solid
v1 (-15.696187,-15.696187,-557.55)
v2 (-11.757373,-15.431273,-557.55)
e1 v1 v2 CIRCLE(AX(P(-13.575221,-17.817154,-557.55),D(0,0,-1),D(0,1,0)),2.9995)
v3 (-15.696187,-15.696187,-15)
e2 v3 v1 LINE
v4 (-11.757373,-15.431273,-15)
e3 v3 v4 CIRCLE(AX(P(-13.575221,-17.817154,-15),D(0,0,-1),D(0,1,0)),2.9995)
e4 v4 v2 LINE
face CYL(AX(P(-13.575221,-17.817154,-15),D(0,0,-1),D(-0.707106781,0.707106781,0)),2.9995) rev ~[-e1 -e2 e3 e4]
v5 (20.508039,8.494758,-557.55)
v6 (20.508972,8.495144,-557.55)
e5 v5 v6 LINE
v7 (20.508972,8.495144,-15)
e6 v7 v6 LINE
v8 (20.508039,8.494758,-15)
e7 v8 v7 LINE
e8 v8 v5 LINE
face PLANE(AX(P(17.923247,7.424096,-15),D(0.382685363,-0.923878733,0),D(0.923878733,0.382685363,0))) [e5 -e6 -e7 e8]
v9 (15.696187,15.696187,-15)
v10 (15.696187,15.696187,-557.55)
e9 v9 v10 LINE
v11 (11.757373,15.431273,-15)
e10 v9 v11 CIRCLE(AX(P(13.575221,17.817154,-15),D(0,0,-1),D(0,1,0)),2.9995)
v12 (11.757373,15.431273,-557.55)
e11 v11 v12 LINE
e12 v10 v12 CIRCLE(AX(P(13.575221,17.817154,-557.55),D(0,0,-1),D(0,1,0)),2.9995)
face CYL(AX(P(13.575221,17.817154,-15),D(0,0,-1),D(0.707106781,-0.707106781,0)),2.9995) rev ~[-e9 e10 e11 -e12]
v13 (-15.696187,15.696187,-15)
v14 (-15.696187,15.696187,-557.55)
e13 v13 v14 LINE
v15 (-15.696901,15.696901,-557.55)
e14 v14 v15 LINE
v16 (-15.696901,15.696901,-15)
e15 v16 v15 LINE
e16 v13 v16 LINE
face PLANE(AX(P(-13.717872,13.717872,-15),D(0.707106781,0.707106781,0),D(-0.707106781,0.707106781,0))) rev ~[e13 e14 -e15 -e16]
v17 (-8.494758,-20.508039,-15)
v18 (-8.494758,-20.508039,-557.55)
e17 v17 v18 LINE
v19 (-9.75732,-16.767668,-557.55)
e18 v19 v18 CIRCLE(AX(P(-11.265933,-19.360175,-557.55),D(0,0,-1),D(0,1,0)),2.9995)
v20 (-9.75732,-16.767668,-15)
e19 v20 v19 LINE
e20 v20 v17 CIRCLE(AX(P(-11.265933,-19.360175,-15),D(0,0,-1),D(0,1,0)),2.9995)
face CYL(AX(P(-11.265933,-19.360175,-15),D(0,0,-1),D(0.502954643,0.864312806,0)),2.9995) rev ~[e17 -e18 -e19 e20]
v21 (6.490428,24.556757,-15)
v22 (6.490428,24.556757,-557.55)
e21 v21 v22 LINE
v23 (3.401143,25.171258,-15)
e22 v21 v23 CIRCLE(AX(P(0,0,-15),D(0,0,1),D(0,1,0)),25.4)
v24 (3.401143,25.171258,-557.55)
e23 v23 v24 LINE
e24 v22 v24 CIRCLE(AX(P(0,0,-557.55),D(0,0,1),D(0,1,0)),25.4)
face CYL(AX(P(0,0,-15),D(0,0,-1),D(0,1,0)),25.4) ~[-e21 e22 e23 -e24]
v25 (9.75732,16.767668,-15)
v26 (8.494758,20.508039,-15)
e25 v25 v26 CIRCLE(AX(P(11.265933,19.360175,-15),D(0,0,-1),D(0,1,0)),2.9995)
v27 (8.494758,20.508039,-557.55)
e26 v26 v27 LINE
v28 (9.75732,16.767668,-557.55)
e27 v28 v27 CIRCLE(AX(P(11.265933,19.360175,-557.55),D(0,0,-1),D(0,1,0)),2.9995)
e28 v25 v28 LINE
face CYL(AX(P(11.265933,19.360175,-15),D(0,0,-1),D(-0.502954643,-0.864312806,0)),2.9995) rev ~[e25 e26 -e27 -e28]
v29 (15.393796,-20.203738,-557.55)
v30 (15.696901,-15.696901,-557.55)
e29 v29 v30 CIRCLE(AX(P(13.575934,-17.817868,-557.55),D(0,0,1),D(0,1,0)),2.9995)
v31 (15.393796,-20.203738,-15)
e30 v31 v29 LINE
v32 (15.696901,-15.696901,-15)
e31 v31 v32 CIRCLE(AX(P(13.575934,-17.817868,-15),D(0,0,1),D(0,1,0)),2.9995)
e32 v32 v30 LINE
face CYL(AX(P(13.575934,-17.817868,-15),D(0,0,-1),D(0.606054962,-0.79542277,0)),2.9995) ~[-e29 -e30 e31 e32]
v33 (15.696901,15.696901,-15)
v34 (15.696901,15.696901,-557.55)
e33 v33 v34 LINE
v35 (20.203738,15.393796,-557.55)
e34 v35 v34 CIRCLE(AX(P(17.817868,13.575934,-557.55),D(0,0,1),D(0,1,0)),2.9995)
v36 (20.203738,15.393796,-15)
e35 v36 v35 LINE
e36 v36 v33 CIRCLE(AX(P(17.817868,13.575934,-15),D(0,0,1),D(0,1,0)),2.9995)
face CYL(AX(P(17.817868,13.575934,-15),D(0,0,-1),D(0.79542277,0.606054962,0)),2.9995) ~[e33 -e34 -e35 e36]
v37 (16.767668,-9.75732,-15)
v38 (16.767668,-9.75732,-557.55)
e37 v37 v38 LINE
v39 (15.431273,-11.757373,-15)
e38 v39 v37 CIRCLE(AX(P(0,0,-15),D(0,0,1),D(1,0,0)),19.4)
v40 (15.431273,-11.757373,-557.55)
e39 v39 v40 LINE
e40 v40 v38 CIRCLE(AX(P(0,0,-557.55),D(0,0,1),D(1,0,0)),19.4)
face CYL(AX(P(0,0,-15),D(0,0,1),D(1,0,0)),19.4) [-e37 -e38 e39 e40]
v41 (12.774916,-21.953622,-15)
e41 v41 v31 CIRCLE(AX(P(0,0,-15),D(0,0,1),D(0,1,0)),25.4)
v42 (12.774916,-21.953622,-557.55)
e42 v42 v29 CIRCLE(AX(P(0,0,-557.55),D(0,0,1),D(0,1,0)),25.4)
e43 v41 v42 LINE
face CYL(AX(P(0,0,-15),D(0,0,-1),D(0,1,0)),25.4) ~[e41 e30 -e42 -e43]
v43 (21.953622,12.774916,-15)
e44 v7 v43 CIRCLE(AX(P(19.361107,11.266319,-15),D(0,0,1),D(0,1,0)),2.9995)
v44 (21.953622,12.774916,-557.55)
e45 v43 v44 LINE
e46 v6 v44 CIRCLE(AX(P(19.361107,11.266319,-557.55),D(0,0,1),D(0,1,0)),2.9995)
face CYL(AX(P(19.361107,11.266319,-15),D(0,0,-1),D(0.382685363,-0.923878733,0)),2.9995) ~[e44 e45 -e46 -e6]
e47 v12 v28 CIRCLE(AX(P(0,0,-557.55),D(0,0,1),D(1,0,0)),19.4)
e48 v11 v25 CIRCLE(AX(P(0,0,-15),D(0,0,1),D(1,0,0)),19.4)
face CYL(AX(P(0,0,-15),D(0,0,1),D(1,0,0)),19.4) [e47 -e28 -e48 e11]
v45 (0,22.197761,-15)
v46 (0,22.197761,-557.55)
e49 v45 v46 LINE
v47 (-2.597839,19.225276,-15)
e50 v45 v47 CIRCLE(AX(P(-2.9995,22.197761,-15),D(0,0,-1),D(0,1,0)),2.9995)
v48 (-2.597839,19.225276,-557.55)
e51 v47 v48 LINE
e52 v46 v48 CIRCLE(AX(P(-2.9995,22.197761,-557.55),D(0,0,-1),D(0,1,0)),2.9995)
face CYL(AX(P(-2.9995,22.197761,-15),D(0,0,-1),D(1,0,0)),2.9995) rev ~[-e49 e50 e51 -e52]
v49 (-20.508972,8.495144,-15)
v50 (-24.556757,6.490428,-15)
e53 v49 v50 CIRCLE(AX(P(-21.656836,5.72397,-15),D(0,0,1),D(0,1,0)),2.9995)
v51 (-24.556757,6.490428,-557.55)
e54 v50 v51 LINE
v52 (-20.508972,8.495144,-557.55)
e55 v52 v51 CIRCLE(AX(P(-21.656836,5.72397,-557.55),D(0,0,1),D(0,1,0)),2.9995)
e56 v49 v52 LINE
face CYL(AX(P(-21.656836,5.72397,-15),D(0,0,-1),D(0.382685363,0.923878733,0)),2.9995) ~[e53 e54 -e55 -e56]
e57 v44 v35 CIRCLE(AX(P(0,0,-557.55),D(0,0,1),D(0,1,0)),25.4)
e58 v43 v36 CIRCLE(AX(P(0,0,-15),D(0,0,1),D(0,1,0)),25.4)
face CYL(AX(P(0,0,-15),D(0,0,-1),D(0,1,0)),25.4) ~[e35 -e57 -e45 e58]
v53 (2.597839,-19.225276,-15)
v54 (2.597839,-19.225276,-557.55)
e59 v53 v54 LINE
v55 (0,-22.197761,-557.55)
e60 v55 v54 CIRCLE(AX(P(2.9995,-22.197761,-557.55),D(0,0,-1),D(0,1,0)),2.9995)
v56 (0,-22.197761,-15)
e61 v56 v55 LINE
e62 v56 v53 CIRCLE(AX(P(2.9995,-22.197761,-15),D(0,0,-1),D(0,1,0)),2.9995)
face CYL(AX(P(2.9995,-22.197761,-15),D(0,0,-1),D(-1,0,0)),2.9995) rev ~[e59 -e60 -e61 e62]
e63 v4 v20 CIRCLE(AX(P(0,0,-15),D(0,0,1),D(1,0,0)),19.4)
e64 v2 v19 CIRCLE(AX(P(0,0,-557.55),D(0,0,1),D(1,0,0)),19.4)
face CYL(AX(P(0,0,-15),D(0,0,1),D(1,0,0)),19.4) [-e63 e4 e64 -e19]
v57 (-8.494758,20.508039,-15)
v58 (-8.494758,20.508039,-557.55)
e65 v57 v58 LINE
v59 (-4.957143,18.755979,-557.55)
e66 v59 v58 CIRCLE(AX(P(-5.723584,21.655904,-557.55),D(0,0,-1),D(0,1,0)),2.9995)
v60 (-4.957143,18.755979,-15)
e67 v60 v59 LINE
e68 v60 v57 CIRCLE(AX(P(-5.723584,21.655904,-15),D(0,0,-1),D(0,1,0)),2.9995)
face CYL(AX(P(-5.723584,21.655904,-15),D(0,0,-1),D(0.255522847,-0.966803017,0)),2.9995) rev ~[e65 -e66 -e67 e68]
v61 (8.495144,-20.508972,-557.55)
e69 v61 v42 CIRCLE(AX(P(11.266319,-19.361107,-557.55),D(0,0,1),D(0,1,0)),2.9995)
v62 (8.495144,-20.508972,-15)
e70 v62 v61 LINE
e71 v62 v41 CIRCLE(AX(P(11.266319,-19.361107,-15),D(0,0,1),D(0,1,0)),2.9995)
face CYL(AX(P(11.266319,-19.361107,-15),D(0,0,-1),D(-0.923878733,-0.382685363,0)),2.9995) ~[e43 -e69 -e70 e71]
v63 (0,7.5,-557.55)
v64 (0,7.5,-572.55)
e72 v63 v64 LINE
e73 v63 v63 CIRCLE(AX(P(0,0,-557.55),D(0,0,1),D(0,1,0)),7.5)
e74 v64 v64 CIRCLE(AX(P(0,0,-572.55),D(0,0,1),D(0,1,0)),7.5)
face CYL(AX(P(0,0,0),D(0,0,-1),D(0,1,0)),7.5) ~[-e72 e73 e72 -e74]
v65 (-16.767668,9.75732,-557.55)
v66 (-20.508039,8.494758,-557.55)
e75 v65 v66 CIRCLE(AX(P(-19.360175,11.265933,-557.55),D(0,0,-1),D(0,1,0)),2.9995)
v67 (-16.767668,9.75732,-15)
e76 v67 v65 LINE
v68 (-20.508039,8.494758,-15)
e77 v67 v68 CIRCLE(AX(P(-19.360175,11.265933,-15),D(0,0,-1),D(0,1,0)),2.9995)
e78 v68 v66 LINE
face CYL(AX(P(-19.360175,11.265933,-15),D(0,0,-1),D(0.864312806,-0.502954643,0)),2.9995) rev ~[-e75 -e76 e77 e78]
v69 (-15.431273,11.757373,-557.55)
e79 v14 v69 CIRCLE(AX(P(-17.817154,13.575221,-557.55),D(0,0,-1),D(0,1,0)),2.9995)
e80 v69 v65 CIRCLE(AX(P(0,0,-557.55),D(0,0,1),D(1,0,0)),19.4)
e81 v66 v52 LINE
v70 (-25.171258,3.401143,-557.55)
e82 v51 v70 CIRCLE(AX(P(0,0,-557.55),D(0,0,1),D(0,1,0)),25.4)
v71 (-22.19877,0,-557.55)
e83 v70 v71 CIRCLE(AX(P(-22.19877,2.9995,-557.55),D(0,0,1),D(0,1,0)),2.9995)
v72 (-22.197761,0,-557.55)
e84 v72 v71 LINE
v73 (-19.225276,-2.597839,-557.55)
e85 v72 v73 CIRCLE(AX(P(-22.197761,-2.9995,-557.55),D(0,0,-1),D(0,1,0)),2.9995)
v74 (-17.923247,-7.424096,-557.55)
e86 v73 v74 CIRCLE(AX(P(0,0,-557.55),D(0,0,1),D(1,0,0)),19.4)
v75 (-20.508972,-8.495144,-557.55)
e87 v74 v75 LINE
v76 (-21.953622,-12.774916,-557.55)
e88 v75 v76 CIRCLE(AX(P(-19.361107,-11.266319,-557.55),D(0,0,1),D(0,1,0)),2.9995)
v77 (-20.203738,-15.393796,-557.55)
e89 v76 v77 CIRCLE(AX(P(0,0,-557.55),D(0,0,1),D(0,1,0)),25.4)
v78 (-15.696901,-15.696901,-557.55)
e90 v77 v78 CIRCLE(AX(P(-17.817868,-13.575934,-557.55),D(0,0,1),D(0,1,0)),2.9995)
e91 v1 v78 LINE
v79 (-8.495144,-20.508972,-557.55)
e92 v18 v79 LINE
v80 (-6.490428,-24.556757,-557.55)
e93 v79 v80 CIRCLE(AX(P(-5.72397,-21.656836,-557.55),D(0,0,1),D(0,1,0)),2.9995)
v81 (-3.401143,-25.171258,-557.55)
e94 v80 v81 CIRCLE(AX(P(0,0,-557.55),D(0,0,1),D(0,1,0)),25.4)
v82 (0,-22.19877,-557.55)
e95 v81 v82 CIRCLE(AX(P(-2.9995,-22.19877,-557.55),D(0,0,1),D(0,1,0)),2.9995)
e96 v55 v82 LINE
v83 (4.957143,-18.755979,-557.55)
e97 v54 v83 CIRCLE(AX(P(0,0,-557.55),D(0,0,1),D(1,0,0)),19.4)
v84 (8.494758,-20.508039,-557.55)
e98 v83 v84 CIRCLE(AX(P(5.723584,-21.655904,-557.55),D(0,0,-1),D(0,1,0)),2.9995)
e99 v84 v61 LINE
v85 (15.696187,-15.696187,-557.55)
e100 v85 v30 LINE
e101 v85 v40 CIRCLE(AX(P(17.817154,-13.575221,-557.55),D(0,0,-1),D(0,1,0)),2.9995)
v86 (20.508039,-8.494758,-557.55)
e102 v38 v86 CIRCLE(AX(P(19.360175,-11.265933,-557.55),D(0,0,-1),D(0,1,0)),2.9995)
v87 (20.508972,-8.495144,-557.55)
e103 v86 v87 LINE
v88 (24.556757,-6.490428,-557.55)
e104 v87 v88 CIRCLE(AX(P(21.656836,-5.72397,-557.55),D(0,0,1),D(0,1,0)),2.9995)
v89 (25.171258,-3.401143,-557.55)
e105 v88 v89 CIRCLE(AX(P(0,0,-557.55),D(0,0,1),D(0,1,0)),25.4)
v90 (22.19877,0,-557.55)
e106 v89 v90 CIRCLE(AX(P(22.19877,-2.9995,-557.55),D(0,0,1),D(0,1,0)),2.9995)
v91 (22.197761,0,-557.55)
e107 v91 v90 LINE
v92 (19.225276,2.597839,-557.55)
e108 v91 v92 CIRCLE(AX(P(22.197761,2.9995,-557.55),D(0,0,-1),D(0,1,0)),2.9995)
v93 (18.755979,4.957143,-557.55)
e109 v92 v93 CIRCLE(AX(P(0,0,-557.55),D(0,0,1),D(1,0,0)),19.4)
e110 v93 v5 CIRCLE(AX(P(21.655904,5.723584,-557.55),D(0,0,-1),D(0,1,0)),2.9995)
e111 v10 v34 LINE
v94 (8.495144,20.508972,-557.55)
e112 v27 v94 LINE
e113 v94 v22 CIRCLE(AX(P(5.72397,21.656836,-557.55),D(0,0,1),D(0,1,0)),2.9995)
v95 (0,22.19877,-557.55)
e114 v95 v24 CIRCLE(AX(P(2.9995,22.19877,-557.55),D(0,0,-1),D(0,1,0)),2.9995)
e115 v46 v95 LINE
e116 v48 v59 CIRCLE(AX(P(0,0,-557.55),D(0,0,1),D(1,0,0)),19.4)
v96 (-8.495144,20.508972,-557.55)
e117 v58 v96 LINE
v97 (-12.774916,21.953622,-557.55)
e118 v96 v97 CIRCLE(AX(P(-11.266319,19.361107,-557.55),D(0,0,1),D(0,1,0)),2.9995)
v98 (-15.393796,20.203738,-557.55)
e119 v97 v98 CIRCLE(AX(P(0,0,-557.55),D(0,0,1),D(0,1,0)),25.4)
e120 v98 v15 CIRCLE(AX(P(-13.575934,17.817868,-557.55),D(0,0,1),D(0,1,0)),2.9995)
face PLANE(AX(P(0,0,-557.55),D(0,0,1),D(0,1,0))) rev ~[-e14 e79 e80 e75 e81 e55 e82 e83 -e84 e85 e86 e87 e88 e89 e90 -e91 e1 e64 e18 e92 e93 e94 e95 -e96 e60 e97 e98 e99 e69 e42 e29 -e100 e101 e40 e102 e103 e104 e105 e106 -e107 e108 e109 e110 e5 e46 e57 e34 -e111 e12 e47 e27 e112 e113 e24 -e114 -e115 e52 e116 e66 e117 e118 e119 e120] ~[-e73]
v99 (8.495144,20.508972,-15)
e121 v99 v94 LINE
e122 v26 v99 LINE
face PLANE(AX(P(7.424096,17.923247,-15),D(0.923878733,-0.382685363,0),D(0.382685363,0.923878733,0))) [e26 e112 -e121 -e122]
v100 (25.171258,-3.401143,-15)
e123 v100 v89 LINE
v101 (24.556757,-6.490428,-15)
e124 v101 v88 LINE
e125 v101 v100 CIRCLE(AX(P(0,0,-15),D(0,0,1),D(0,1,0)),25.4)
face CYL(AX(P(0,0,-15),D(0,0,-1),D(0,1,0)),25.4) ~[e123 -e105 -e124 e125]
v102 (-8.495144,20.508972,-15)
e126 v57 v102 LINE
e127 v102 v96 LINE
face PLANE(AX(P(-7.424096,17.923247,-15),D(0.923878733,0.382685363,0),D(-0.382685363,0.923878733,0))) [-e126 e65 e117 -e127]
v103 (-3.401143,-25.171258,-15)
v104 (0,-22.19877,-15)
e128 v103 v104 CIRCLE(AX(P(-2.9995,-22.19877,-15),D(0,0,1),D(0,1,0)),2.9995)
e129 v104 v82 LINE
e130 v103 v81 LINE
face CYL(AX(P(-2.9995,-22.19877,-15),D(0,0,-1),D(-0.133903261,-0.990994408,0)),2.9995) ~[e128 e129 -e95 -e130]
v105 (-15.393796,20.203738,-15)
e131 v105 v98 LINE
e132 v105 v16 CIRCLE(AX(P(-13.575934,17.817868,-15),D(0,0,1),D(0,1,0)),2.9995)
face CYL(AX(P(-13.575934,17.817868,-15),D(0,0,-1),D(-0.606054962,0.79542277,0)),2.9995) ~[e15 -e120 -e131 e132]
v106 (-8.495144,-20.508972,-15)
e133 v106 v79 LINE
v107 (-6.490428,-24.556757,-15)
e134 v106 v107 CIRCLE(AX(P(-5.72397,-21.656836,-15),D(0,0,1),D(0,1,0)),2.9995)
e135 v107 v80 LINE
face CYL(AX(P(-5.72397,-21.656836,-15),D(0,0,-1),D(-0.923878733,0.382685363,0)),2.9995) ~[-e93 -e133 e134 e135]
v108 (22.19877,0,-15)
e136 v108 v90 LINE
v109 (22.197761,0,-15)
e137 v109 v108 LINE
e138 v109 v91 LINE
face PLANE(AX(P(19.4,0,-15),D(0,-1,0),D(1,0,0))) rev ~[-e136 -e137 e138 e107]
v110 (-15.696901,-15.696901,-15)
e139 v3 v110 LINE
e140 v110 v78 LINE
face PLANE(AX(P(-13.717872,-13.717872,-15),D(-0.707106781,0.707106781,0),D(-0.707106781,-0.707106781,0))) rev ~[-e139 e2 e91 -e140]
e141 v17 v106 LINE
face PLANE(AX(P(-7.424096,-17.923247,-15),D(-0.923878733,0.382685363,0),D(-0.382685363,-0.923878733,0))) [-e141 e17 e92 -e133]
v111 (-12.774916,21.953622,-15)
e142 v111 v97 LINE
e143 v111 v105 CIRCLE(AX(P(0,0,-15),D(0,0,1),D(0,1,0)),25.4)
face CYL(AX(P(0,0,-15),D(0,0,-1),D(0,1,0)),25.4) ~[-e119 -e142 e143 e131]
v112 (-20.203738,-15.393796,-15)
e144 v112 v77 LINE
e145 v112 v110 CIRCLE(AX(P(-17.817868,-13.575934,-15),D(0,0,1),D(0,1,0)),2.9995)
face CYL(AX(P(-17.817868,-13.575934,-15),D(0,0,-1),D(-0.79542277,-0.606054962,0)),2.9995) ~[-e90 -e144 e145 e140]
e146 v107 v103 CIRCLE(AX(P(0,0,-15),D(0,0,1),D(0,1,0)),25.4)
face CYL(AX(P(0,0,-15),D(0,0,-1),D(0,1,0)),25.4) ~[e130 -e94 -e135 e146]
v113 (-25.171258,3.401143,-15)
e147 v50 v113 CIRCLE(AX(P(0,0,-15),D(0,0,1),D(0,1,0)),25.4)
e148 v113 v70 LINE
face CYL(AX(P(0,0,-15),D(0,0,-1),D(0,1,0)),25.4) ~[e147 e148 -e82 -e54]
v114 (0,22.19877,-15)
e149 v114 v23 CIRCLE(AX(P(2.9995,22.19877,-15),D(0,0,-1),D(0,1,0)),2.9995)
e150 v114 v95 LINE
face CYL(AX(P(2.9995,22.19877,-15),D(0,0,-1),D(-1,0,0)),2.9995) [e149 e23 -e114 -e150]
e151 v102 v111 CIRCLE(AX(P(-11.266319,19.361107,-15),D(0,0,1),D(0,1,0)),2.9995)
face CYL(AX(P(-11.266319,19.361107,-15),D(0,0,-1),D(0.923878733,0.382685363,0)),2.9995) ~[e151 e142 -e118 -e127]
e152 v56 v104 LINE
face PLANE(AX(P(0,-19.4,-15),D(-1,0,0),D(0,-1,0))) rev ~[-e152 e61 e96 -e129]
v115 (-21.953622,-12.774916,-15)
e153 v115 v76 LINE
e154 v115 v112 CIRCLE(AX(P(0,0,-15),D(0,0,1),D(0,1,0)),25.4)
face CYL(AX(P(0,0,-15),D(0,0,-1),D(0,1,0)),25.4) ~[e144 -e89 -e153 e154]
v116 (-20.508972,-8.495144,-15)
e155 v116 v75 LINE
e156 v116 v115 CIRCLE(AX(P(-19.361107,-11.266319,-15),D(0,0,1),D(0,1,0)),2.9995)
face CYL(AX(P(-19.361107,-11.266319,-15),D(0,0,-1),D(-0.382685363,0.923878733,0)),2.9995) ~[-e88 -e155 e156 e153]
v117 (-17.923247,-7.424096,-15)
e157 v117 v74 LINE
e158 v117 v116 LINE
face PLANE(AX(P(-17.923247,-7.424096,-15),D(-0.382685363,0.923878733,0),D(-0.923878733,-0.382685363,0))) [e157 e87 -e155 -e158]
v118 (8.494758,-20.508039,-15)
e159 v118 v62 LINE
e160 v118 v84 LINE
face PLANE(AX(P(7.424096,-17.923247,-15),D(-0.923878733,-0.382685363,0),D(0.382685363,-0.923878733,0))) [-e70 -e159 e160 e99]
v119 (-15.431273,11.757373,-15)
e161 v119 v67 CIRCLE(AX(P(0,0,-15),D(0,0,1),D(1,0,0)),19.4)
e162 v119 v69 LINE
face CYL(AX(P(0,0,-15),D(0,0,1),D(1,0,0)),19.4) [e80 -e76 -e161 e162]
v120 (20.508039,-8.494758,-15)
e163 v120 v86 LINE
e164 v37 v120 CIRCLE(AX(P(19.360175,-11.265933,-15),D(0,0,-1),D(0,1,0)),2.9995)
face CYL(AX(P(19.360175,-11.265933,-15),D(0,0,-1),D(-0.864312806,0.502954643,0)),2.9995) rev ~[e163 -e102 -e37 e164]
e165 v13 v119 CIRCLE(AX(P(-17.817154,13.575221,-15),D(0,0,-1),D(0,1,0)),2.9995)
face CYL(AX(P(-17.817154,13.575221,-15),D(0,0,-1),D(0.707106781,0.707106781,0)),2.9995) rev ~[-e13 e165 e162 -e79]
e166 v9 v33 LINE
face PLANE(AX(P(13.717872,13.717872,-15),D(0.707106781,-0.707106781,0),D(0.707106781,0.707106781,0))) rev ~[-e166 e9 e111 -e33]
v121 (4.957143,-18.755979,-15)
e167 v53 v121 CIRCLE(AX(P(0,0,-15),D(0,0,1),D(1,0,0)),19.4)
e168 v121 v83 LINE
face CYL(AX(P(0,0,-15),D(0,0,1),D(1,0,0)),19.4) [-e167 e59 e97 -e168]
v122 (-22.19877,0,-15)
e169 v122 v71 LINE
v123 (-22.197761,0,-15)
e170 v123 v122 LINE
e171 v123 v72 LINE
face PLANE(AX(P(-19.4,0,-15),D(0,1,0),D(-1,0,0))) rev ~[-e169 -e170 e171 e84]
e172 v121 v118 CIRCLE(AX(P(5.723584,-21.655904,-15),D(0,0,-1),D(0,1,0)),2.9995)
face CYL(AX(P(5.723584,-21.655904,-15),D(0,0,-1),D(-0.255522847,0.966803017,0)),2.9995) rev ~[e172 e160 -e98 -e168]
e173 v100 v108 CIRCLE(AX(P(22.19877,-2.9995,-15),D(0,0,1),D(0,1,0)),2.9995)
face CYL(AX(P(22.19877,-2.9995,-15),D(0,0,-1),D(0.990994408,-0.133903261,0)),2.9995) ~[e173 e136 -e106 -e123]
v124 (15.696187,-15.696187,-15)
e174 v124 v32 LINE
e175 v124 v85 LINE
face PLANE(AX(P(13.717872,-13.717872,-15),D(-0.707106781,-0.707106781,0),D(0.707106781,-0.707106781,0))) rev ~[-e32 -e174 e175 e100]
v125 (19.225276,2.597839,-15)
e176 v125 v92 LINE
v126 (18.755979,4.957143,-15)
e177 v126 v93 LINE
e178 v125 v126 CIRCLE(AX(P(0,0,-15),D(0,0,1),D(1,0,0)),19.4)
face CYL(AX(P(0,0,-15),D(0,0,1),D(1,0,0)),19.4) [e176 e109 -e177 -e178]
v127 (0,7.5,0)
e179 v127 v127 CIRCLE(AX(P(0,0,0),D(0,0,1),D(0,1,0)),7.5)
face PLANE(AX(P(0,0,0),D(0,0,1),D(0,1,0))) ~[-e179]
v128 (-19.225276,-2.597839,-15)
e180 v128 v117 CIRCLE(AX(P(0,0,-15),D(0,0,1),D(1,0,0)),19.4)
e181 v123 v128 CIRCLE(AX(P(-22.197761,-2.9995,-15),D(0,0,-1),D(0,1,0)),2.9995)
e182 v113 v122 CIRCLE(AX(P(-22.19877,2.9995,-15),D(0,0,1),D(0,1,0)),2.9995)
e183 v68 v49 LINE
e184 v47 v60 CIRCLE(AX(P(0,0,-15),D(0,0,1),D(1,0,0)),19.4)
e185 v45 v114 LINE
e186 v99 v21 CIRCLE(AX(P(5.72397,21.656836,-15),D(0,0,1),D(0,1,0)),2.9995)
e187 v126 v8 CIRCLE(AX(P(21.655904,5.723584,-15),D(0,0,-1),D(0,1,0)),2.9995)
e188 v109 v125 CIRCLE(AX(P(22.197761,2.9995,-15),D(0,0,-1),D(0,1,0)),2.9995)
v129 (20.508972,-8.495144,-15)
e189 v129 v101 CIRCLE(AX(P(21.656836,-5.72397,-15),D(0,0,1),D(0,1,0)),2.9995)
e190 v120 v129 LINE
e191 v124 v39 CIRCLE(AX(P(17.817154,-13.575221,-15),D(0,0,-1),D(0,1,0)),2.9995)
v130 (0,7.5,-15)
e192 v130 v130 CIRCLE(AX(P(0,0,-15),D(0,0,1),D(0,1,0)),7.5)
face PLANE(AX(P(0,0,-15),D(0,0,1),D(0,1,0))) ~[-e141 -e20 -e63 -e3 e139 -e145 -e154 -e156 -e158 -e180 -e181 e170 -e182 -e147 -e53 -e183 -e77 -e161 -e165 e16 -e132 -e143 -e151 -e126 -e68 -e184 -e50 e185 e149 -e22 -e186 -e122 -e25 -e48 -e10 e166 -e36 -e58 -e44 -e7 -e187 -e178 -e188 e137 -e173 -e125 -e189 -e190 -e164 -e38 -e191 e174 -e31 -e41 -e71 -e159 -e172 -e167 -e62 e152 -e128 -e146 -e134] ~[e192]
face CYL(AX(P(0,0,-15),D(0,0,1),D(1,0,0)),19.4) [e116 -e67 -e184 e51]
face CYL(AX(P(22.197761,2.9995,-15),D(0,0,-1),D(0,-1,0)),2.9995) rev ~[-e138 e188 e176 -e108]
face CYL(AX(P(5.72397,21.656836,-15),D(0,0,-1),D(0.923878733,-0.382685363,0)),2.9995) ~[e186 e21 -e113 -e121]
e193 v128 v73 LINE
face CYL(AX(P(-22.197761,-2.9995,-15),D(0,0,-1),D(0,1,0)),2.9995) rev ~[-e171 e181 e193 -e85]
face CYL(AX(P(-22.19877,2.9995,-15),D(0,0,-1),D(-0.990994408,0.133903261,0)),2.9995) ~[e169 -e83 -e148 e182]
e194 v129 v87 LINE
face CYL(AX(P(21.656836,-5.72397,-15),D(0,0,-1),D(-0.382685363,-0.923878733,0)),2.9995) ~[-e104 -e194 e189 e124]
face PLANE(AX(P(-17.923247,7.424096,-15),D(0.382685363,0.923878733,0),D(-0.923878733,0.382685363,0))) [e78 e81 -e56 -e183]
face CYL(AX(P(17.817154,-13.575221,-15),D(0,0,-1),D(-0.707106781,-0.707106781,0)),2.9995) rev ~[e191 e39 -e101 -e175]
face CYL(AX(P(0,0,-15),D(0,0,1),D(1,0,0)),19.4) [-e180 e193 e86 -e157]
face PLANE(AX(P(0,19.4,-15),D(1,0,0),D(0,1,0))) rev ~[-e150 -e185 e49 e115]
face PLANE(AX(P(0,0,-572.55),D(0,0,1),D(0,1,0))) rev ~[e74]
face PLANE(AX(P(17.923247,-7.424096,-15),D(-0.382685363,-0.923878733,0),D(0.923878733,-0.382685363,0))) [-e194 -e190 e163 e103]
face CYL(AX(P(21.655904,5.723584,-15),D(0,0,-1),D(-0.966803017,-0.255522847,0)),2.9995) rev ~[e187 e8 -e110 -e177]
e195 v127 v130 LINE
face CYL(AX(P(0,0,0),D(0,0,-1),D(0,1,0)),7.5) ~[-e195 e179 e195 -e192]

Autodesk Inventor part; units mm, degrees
ref_plane "YZ Plane" through (0, 0, 0) normal (1, 0, 0) x (0, 1, 0)
ref_plane "XZ Plane" through (0, 0, 0) normal (0, 1, 0) x (-1, 0, 0)
ref_plane "XY Plane" through (0, 0, 0) normal (0, 0, 1) x (1, 0, 0)
sketch "Esboço1" plane through (0, 0, 0) normal (1, 0, 0) x (0, 1, 0)
  line L0 (0, 0) -> (0, -572.55)
  line L1 (0, 0) -> (7.5, 0)
  line L2 (7.5, 0) -> (7.5, -572.55)
  line L3 (7.5, -572.55) -> (0, -572.55)
  line L4 (0, -572.55) -> (0, 0)
  line L5 (7.5, -15) -> (25.4, -15)
  line L6 (25.4, -15) -> (25.4, -557.55)
  line L7 (25.4, -557.55) -> (7.5, -557.55)
  line L8 (7.5, -557.55) -> (7.5, -15)
  point P0 (3.75, 0)
  point P1 (3.75, -572.55)
  point P2 (0, -545.49)
  point P3 (7.5, -557.55)
  dimension "d0" = 572.55
  dimension "d1" = 7.5
  dimension "d2" = 25.4
  dimension "d3" = 15
  dimension "d4" = 15
revolve "Revolução1" add sketch "Esboço1" angle 360 about axis through (0, 0, -572.55) along (0, 0, 1)
sketch "Esboço2" plane through (0, 0, -15) normal (0, 0, 1) x (1, 0, 0)
  circle A0 centre (0, 0) radius 7.5 projected
  circle A1 centre (0, 0) radius 25.4 projected
  circle A2 centre (0, 0) radius 7.5 projected
  line L0 (0, 0) -> (0, 25.4)
  line L1 (0, 0) -> (-25.4, 0)
  line L2 (0, 0) -> (0, -25.4)
  line L3 (0, 0) -> (25.4, 0)
  line L4 (0, 0) -> (17.9605, 17.9605)
  line L5 (0, 0) -> (9.7202, 23.4665)
  line L6 (0, 0) -> (23.4665, 9.7202)
  line L7 (0, 0) -> (-17.9605, 17.9605)
  line L8 (0, 0) -> (-9.7202, 23.4665)
  line L9 (0, 0) -> (-23.4665, 9.7202)
  line L10 (0, 0) -> (17.9605, -17.9605)
  line L11 (0, 0) -> (9.7202, -23.4665)
  line L12 (0, 0) -> (23.4665, -9.7202)
  line L13 (0, 0) -> (-9.7202, -23.4665)
  line L14 (0, 0) -> (-17.9605, -17.9605)
  line L15 (0, 0) -> (-23.4665, -9.7202)
  circle A3 centre (0, 0) radius 19.4
  point P0 (0, 0)
  point P1 (-17.9233, 7.4241)
  point P2 (-13.7179, 13.7179)
  point P3 (-17.9233, -7.4241)
  point P4 (-19.4, 0)
  point P5 (-7.4241, -17.9233)
  point P6 (-13.7179, -13.7179)
  point P7 (7.4241, -17.9233)
  point P8 (0, -19.4)
  point P9 (17.9233, -7.4241)
  point P10 (13.7179, -13.7179)
  point P11 (17.9233, 7.4241)
  point P12 (19.4, 0)
  point P13 (7.4241, 17.9233)
  point P14 (13.7179, 13.7179)
  point P15 (-7.4241, 17.9233)
  point P16 (0, 19.4)
  dimension "d8" = 22.5
  dimension "d9" = 22.5
  dimension "d10" = 45
  dimension "d11" = 6
extrude "Extrusão1" cut sketch "Esboço2" against normal up to surface (542.55 mm away) contours A3 L6 A1 L3 | L12 A1 L10 A3 | A3 L5 A1 L4 | A3 L8 A1 L0 | A3 L15 A1 L1 | A3 L11 A1 L2 | A3 L9 A1 L7 | L13 A1 L14 A3
fillet "Arredondamento1" radius 3 31 edges at (7.4241, 17.9233, -286.275) (13.7179, 13.7179, -286.275) (17.9605, 17.9605, -286.275) (9.7202, 23.4665, -286.275) (0, 25.4, -286.275) (0, 19.4, -286.275) (-9.7202, 23.4665, -286.275) (-7.4241, 17.9233, -286.275) (-23.4665, 9.7202, -286.275) (-17.9605, 17.9605, -286.275) (-17.9233, 7.4241, -286.275) (-13.7179, 13.7179, -286.275) (19.4, 0, -286.275) (17.9233, 7.4241, -286.275) (23.4665, 9.7202, -286.275) (25.4, 0, -286.275) (23.4665, -9.7202, -286.275) (17.9233, -7.4241, -286.275) (17.9605, -17.9605, -286.275) (13.7179, -13.7179, -286.275) (7.4241, -17.9233, -286.275) (9.7202, -23.4665, -286.275) (0, -19.4, -286.275) (-9.7202, -23.4665, -286.275) (-7.4241, -17.9233, -286.275) (-13.7179, -13.7179, -286.275) (-23.4665, -9.7202, -286.275) (-17.9605, -17.9605, -286.275) (-19.4, 0, -286.275) (-25.4, 0, -286.275) (0, -25.4, -286.275)
equation "\"d9\" = d8"
properties part number "Coletor - Intake"
